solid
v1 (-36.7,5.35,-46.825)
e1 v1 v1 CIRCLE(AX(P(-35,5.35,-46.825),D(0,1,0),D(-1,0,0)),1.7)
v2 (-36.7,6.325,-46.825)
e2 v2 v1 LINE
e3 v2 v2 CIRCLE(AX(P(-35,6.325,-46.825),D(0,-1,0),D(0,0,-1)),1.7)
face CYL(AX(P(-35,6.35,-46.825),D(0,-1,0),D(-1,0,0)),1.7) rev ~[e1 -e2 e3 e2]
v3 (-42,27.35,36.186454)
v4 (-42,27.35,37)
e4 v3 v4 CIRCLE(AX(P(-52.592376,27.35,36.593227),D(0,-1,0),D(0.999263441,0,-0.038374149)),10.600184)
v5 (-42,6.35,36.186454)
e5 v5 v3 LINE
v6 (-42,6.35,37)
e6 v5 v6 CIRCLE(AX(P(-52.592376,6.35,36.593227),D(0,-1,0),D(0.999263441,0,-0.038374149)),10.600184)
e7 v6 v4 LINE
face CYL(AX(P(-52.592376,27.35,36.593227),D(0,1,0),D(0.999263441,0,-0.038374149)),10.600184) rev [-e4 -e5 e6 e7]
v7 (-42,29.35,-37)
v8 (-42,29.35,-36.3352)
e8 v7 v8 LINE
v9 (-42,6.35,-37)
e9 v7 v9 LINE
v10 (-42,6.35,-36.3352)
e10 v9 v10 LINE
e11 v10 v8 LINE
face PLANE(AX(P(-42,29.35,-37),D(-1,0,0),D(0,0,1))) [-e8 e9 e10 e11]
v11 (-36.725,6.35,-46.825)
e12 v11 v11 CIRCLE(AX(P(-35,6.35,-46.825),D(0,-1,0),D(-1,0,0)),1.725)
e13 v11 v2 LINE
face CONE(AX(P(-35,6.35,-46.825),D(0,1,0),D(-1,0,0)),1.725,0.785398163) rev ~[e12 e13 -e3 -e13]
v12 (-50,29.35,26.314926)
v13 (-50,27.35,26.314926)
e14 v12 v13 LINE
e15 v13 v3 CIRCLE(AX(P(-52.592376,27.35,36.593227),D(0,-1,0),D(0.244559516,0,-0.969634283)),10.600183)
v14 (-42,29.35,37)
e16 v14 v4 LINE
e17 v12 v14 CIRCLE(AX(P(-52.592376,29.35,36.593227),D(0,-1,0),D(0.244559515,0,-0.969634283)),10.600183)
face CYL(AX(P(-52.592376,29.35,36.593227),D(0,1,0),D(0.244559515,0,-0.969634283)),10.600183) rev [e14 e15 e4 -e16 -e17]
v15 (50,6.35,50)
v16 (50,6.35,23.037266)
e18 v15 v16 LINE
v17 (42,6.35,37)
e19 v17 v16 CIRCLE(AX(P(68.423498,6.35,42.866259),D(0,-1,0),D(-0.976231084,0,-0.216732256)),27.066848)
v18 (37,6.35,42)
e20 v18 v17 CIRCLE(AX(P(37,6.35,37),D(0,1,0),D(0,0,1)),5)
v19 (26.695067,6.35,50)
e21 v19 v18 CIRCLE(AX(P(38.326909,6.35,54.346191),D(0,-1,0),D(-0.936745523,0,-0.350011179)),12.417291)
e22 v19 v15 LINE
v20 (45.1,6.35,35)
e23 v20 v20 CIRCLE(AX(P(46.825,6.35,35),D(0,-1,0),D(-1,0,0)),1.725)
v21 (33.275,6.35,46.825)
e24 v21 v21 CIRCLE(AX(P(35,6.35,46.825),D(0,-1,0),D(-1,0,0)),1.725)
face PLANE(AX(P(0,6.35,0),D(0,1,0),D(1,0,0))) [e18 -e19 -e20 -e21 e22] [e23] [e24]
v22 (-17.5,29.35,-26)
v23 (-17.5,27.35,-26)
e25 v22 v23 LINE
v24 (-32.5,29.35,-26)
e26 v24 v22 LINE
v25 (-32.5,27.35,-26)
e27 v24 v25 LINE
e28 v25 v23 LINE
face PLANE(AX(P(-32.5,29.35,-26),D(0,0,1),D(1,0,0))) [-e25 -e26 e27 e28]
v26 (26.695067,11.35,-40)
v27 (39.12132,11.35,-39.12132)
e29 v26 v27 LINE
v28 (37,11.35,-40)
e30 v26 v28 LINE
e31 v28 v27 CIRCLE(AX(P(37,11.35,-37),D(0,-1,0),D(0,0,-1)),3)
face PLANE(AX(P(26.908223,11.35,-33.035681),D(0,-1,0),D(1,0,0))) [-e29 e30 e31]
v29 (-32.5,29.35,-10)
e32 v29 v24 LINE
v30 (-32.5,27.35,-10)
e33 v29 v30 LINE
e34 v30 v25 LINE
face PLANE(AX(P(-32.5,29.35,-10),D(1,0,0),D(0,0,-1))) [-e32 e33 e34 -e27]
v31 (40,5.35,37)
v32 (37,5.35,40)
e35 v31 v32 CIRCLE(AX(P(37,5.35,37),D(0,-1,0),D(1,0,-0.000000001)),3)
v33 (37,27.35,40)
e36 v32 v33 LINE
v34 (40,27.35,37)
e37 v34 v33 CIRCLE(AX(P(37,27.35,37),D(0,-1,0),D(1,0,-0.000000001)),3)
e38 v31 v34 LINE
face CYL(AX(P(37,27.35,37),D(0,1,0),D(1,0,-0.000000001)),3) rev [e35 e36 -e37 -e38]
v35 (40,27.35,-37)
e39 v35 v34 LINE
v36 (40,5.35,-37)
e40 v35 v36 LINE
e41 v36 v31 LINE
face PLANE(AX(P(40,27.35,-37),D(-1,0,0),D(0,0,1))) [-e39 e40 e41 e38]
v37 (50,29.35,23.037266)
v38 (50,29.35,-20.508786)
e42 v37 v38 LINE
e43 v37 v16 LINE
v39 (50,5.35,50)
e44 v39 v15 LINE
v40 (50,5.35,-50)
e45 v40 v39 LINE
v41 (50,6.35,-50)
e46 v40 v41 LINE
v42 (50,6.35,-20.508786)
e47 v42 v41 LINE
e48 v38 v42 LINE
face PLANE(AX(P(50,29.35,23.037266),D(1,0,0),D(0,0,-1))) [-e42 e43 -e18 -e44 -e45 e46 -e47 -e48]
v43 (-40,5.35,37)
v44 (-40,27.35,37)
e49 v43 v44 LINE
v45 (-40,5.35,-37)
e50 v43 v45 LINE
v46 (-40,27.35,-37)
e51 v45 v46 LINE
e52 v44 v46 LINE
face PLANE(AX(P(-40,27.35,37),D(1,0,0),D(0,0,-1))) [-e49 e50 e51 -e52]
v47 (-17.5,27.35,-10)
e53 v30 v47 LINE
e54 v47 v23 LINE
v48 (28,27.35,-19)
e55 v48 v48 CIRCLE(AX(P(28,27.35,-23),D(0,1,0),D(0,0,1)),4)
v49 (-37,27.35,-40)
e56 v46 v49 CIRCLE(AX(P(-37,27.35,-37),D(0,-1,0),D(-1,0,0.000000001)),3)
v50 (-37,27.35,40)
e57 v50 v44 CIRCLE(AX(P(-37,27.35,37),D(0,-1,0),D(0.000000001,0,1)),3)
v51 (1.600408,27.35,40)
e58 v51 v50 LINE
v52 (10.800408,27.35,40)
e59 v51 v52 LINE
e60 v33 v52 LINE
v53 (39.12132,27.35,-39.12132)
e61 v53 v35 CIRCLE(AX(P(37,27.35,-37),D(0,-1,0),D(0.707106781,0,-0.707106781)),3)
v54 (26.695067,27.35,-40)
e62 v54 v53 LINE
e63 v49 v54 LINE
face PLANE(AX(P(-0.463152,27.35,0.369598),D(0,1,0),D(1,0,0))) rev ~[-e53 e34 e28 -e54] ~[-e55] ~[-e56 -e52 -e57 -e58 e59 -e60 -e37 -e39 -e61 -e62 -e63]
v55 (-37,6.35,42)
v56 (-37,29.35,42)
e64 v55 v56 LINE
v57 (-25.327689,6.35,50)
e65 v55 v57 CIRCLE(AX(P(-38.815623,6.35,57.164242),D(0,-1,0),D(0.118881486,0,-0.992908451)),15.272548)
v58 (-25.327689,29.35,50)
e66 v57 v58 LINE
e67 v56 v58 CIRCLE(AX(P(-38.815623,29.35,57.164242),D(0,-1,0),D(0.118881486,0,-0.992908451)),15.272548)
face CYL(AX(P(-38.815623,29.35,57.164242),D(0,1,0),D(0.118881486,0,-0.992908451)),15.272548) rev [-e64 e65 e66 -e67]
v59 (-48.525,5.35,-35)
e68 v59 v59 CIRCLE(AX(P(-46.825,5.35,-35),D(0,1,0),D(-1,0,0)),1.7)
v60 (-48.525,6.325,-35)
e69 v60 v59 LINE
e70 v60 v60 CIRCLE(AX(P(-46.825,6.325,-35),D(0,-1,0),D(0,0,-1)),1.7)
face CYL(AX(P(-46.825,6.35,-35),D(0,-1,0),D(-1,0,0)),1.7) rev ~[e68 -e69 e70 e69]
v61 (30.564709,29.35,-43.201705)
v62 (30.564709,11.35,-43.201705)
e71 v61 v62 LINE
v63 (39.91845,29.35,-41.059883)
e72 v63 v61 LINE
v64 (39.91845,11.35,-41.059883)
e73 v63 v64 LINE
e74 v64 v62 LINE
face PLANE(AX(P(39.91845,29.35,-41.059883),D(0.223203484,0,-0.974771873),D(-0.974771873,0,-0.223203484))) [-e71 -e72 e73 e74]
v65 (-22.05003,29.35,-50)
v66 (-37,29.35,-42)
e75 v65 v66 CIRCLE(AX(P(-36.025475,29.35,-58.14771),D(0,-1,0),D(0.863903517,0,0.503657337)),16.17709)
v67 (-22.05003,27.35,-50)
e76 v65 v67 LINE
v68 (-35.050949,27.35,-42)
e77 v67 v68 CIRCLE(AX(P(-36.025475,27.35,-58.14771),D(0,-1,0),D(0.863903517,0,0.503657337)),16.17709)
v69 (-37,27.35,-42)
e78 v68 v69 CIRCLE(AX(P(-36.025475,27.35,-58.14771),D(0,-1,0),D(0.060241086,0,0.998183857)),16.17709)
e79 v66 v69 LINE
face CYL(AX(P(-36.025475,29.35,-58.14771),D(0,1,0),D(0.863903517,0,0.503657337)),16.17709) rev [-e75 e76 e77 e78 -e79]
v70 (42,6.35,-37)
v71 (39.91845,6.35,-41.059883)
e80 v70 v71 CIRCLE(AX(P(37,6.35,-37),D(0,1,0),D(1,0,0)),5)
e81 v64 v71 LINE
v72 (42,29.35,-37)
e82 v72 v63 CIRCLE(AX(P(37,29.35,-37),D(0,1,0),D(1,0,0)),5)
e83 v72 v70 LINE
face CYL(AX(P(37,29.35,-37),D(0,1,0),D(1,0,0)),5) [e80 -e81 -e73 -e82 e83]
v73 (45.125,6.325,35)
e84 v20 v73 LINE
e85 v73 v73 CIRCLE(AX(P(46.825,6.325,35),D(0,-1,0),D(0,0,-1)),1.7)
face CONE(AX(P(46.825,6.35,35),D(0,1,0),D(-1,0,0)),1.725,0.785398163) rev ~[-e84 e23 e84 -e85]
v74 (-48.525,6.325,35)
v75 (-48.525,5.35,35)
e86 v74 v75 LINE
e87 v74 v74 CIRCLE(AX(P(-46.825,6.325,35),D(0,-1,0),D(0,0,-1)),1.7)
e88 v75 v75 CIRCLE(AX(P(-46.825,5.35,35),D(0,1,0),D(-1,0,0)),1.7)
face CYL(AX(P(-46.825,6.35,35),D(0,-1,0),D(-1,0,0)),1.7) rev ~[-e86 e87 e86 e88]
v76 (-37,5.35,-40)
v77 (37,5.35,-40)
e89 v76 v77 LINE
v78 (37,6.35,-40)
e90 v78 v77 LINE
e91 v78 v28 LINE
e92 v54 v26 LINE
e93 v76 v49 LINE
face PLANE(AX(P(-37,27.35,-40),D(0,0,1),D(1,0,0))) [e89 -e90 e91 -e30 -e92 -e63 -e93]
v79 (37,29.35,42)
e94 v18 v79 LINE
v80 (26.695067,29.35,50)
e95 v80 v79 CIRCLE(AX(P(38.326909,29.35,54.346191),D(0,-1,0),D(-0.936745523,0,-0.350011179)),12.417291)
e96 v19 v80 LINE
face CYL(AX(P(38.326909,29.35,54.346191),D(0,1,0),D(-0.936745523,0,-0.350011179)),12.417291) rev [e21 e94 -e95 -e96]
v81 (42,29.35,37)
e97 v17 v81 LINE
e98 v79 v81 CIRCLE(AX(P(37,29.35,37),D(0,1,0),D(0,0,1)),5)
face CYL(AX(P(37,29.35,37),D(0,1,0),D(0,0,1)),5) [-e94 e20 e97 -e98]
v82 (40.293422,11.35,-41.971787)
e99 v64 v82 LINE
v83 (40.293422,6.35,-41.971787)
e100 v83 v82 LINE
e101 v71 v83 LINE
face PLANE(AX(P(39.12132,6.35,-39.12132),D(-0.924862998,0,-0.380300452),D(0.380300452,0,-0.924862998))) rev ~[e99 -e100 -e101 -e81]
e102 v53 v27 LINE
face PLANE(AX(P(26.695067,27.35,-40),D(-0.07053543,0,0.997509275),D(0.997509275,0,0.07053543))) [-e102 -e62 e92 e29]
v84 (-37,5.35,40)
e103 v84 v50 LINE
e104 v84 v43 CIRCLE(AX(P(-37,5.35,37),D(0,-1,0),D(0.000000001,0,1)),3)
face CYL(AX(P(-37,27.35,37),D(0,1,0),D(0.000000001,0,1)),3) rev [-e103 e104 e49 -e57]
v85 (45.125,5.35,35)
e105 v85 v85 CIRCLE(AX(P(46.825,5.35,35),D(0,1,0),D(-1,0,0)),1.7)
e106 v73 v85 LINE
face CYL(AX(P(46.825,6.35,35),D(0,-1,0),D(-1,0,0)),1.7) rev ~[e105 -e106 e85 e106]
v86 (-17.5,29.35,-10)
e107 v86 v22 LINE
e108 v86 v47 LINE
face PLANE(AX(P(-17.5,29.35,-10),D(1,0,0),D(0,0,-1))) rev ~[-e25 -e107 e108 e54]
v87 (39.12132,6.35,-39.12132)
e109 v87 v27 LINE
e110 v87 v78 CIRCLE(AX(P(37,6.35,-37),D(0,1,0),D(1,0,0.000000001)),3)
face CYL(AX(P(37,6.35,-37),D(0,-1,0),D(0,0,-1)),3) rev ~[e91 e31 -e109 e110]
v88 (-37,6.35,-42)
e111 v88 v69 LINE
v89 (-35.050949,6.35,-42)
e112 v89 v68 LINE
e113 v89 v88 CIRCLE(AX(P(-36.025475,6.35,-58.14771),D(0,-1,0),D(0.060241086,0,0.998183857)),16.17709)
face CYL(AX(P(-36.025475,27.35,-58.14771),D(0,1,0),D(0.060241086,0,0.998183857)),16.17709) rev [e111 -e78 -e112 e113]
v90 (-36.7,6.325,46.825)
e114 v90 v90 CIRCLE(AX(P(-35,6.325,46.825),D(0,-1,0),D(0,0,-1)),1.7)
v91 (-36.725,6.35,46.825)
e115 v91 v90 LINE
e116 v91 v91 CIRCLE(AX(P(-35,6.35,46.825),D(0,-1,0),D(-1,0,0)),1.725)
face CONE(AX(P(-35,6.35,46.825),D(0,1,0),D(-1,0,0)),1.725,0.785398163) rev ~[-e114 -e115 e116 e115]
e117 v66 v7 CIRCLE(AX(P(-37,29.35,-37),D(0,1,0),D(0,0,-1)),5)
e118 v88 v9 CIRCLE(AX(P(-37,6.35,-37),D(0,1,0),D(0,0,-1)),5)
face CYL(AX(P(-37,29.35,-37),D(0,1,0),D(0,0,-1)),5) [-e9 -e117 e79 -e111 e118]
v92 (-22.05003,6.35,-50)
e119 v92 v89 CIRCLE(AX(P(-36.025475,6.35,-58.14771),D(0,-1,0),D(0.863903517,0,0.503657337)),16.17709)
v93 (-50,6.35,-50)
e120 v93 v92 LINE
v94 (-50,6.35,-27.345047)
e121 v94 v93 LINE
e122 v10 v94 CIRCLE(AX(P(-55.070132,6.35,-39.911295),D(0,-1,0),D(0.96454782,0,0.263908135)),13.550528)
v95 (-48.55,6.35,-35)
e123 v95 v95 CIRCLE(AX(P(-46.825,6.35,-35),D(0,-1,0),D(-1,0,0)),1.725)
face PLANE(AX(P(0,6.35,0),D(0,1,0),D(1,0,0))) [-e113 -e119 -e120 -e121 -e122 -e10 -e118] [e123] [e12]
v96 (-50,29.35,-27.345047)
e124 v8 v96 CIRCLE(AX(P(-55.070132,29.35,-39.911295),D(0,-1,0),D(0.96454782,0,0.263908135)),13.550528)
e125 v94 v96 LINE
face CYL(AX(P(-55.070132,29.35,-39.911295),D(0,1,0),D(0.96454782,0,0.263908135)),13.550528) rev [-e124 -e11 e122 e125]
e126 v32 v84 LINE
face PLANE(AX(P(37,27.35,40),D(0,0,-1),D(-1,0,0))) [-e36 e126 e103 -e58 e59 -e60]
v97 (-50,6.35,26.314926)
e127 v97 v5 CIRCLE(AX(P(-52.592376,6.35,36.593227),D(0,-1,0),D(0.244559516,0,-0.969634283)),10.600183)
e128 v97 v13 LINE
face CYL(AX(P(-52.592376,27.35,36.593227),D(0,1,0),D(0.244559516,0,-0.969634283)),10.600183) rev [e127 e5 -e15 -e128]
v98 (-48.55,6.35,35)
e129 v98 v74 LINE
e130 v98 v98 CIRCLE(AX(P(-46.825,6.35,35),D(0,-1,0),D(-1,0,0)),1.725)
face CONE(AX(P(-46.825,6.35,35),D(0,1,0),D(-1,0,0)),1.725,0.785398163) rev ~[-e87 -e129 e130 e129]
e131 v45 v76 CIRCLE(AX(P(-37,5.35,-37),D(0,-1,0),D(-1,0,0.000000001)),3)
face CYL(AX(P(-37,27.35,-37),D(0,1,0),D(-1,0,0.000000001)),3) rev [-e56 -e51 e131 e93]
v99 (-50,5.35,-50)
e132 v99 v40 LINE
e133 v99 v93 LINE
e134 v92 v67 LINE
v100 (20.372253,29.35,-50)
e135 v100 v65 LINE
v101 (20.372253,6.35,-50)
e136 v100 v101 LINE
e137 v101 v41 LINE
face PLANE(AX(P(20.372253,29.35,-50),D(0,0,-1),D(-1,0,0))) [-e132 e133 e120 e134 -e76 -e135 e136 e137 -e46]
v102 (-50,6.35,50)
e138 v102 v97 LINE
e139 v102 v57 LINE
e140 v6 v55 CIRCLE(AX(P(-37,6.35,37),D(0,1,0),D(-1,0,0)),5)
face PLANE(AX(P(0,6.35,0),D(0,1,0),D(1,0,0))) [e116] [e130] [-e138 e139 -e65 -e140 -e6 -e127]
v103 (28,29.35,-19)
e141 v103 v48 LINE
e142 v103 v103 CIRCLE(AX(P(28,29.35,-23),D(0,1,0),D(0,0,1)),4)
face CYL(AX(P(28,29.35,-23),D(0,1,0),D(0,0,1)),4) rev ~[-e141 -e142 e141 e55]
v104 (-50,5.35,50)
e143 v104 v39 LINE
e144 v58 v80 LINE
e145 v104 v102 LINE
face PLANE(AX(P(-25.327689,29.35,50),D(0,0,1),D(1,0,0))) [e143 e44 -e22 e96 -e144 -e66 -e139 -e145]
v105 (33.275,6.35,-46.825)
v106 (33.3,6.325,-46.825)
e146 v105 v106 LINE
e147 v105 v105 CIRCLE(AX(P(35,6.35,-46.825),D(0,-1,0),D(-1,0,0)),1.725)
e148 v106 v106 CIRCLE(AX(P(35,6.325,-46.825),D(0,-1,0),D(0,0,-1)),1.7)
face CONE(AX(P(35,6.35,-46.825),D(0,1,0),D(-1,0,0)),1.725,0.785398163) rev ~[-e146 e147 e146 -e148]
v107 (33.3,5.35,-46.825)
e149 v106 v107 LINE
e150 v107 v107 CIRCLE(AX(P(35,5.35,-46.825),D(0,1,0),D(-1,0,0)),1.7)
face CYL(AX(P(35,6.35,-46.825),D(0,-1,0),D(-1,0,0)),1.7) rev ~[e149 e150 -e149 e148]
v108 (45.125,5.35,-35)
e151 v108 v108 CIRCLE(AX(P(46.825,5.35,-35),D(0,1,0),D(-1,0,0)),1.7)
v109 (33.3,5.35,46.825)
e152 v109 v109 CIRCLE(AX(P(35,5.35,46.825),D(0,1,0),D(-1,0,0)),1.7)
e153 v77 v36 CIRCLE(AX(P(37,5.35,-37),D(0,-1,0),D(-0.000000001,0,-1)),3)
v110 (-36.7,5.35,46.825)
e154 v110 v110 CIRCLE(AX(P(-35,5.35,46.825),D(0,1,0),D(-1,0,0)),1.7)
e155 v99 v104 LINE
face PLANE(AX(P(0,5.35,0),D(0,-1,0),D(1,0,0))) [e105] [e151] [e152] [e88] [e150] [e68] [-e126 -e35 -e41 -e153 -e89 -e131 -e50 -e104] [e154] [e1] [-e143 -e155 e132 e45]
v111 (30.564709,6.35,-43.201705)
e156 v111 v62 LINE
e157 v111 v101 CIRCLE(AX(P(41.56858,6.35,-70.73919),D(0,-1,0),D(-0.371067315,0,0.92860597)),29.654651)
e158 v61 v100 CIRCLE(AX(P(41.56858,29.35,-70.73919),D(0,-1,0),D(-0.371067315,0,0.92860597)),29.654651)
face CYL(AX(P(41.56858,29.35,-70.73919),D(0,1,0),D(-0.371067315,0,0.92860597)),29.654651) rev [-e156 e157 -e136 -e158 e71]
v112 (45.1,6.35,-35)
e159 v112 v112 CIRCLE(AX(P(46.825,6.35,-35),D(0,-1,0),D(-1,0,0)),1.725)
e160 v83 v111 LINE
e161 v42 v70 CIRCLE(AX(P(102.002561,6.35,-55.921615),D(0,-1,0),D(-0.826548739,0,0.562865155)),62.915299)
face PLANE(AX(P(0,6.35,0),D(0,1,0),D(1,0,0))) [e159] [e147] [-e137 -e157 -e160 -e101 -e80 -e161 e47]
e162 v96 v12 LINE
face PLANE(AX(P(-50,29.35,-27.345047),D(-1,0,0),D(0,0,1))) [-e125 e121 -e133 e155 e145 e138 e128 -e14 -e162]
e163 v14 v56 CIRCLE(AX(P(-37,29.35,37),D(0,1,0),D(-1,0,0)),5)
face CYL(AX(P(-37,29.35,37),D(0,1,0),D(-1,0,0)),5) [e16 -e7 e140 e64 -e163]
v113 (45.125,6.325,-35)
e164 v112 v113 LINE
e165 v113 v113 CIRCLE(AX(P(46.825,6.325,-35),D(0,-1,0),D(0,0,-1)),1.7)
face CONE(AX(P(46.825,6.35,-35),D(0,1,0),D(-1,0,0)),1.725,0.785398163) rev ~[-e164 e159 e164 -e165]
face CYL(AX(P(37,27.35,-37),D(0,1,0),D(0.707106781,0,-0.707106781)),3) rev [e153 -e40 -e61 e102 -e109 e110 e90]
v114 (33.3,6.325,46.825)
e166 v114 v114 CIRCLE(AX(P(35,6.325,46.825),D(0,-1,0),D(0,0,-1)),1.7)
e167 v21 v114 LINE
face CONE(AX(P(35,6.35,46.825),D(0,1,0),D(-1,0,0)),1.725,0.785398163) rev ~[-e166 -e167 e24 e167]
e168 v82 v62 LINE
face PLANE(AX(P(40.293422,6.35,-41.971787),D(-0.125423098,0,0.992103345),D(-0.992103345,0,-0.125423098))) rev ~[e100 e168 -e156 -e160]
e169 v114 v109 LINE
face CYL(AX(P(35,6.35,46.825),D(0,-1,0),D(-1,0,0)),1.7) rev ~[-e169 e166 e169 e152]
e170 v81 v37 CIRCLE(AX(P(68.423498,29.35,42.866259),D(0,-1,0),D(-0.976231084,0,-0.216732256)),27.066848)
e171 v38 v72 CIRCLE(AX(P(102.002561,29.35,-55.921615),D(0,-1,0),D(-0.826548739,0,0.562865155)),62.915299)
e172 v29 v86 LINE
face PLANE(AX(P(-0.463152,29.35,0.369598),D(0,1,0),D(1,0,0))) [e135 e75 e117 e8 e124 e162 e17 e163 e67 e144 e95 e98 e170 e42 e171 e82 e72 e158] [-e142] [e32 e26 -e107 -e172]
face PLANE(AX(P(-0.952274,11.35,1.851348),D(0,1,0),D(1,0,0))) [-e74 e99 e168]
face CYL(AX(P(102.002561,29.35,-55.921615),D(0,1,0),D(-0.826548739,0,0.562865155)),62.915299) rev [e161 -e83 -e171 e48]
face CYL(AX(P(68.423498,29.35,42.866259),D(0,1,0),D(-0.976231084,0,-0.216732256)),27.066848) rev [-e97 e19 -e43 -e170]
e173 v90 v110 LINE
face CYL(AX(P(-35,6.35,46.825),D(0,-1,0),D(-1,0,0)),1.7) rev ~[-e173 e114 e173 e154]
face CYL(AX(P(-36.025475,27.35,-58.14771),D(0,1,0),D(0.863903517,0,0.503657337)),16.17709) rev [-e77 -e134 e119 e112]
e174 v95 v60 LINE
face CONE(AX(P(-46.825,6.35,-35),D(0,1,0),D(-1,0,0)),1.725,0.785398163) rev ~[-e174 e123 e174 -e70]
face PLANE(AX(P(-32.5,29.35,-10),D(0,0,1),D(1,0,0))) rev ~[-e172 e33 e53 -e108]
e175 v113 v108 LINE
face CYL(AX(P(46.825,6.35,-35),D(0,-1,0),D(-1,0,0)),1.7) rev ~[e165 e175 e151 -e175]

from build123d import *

# Parameters (mm, degrees)
SKETCH1_W                      = 100
SKETCH1_H                      = 100
BOSS_EXTRUDE3_DEPTH            = 6.35
M3_CLEARANCE_HOLE1_D           = 3.4
M3_CLEARANCE_HOLE1_CSINK_D     = 3.45
M3_CLEARANCE_HOLE1_CSINK_ANGLE = 90
CUT_EXTRUDE1_DEPTH             = 10
SKETCH20_R                     = 1.6
BOSS_EXTRUDE4_DEPTH            = 5
BOSS_EXTRUDE5_START            = 5
SKETCH21_W                     = 9.2
SKETCH21_H                     = 5.055773539
BOSS_EXTRUDE5_DEPTH            = 5
BOSS_EXTRUDE6_START            = 21
SKETCH21_3_W                   = 9.2
SKETCH21_3_H                   = 5.055773539
BOSS_EXTRUDE6_DEPTH            = 16
BOSS_EXTRUDE7_START            = 2
SKETCH22_R                     = 4
SKETCH22_W                     = 15
SKETCH22_H                     = 16
BOSS_EXTRUDE7_DEPTH            = 2
SKETCH24_W                     = 100
SKETCH24_H                     = 100
SKETCH24_R                     = 1.7
CUT_EXTRUDE2_DEPTH             = 5.35
CUT_EXTRUDE3_DEPTH             = 5


with BuildPart() as part:
    # Sketch1 → Boss-Extrude3 (new body)
    with BuildSketch(Plane(origin=(0, 0, 0), x_dir=(1, 0, 0), z_dir=(0, 1, 0))):
        Rectangle(SKETCH1_W, SKETCH1_H)
    extrude(amount=BOSS_EXTRUDE3_DEPTH)

    # M3 Clearance Hole1 (through all)
    with Locations(Plane(origin=(0, 6.35, 0), x_dir=(1, 0, 0), z_dir=(0, 1, 0))):
        with Locations((-46.825, 35), (-35, 46.825), (35, 46.825), (46.825, 35), (46.825, -35), (35, -46.825), (-35, -46.825), (-46.825, -35)):
            CounterSinkHole(M3_CLEARANCE_HOLE1_D / 2, M3_CLEARANCE_HOLE1_CSINK_D / 2, counter_sink_angle=M3_CLEARANCE_HOLE1_CSINK_ANGLE)

    # Sketch19 → Cut-Extrude1 (cut)
    with BuildSketch(Plane(origin=(0, 6.35, 0), x_dir=(1, 0, 0), z_dir=(0, 1, 0))):
        with BuildLine():
            Line((-37, -40), (37, -40))
            ThreePointArc((37, -40), (39.121320344, -39.121320344), (40, -37))
            Line((40, -37), (40, 37))
            ThreePointArc((40, 37), (39.121320344, 39.121320344), (37, 40))
            Line((37, 40), (-37, 40))
            ThreePointArc((-37, 40), (-39.121320344, 39.121320344), (-40, 37))
            Line((-40, 37), (-40, -37))
            ThreePointArc((-40, -37), (-39.121320344, -39.121320344), (-37, -40))
        make_face()
    extrude(amount=-CUT_EXTRUDE1_DEPTH, mode=Mode.SUBTRACT)

    # Sketch20 → Boss-Extrude4 (add)
    # profile 1 of 2: a face of its own
    with BuildSketch(Plane(origin=(0, 6.35, -6.35), x_dir=(1, 0, 0), z_dir=(0, -1, 0))):
        with BuildLine():
            Line((1.60040755, 36.488159347), (1.60040755, 46.35))
            Line((1.60040755, 46.35), (1.60040755, 51.405773539))
            Line((1.60040755, 51.405773539), (10.80040755, 51.405773539))
            Line((10.80040755, 51.405773539), (10.80040755, 46.35))
            Line((10.80040755, 46.35), (10.80040755, 36.488159347))
            ThreePointArc((10.80040755, 36.488159347), (6.20040755, 31.888159347), (1.60040755, 36.488159347))
        make_face()
        with Locations(Location((6.20040755, 36.488159347, 0), (0, 0, 90))):
            Circle(SKETCH20_R, mode=Mode.SUBTRACT)
    # profile 2 of 2: a face of its own
    with BuildSketch(Plane(origin=(0, 6.35, -6.35), x_dir=(1, 0, 0), z_dir=(0, -1, 0))):
        with BuildLine():
            Line((23.839549451, -18.252155571), (39.121320344, -32.771320344))
            Line((39.121320344, -32.771320344), (40.293422294, -35.621786908))
            Line((40.293422294, -35.621786908), (30.564708642, -36.851704553))
            Line((30.564708642, -36.851704553), (26.695067206, -33.65))
            Line((26.695067206, -33.65), (17.503754806, -24.92281552))
            ThreePointArc((17.503754806, -24.92281552), (17.335801876, -18.419094063), (23.839549451, -18.252155571))
        make_face()
        with Locations(Location((20.671131891, -21.586991424, 0), (0, 0, 90))):
            Circle(SKETCH20_R, mode=Mode.SUBTRACT)
    extrude(amount=-BOSS_EXTRUDE4_DEPTH)

    # Sketch21 → Boss-Extrude5 (add)
    with BuildSketch(Plane(origin=(0, 6.35, 0), x_dir=(1, 0, 0), z_dir=(0, 1, 0)).offset(BOSS_EXTRUDE5_START)):
        with BuildLine():
            Line((40, 37), (40, -37))
            ThreePointArc((40, -37), (39.121320344, -39.121320344), (37, -40))
            Line((37, -40), (10.80040755, -40))
            Line((10.80040755, -40), (10.80040755, -45.055773539))
            Line((10.80040755, -45.055773539), (1.60040755, -45.055773539))
            Line((1.60040755, -45.055773539), (1.60040755, -40))
            Line((1.60040755, -40), (-37, -40))
            ThreePointArc((-37, -40), (-39.121320344, -39.121320344), (-40, -37))
            Line((-40, -37), (-40, 37))
            ThreePointArc((-40, 37), (-39.121320344, 39.121320344), (-37, 40))
            Line((-37, 40), (26.695067206, 40))
            Line((26.695067206, 40), (30.564708642, 43.201704553))
            ThreePointArc((30.564708642, 43.201704553), (25.113568567, 46.068744386), (20.37225284, 50))
            Line((20.37225284, 50), (-22.050029616, 50))
            ThreePointArc((-22.050029616, 50), (-27.54753826, 44.370089204), (-35.050949086, 42))
            ThreePointArc((-35.050949086, 42), (-36.025474543, 41.970620085), (-37, 42))
            ThreePointArc((-37, 42), (-40.535533906, 40.535533906), (-42, 37))
            Line((-42, 37), (-42, 36.335199984))
            ThreePointArc((-42, 36.335199984), (-44.947236911, 30.903309262), (-50, 27.345047411))
            Line((-50, 27.345047411), (-50, -26.314925762))
            ThreePointArc((-50, -26.314925762), (-44.357013872, -29.919194986), (-42, -36.186453931))
            ThreePointArc((-42, -36.186453931), (-41.99219234, -36.593226965), (-42, -37))
            ThreePointArc((-42, -37), (-40.535533906, -40.535533906), (-37, -42))
            ThreePointArc((-37, -42), (-30.181405564, -44.566583152), (-25.327689408, -50))
            Line((-25.327689408, -50), (26.695067206, -50))
            ThreePointArc((26.695067206, -50), (30.712297628, -44.537683696), (37, -42))
            ThreePointArc((37, -42), (40.535533906, -40.535533906), (42, -37))
            ThreePointArc((42, -37), (44.938337838, -29.41034973), (50, -23.037265969))
            Line((50, -23.037265969), (50, 20.508785558))
            ThreePointArc((50, 20.508785558), (45.396228517, 28.461499137), (42, 37))
            ThreePointArc((42, 37), (41.449283771, 39.281200107), (39.918450428, 41.059882646))
            Line((39.918450428, 41.059882646), (39.121320344, 39.121320344))
            ThreePointArc((39.121320344, 39.121320344), (39.771638598, 38.148050297), (40, 37))
        make_face()
        Polygon((26.695067206, 40), (39.121320344, 39.121320344), (39.918450428, 41.059882646), (30.564708642, 43.201704553), align=None)
        with Locations((6.20040755, -42.52788677)):
            Rectangle(SKETCH21_W, SKETCH21_H)
    extrude(amount=-BOSS_EXTRUDE5_DEPTH)

    # Sketch21<3> → Boss-Extrude6 (add)
    with BuildSketch(Plane(origin=(0, 6.35, 0), x_dir=(1, 0, 0), z_dir=(0, 1, 0)).offset(BOSS_EXTRUDE6_START)):
        with BuildLine():
            Line((40, 37), (40, -37))
            ThreePointArc((40, -37), (39.121320344, -39.121320344), (37, -40))
            Line((37, -40), (10.80040755, -40))
            Line((10.80040755, -40), (10.80040755, -45.055773539))
            Line((10.80040755, -45.055773539), (1.60040755, -45.055773539))
            Line((1.60040755, -45.055773539), (1.60040755, -40))
            Line((1.60040755, -40), (-37, -40))
            ThreePointArc((-37, -40), (-39.121320344, -39.121320344), (-40, -37))
            Line((-40, -37), (-40, 37))
            ThreePointArc((-40, 37), (-39.121320344, 39.121320344), (-37, 40))
            Line((-37, 40), (26.695067206, 40))
            Line((26.695067206, 40), (30.564708642, 43.201704553))
            ThreePointArc((30.564708642, 43.201704553), (25.113568567, 46.068744386), (20.37225284, 50))
            Line((20.37225284, 50), (-22.050029616, 50))
            ThreePointArc((-22.050029616, 50), (-27.54753826, 44.370089204), (-35.050949086, 42))
            ThreePointArc((-35.050949086, 42), (-36.025474543, 41.970620085), (-37, 42))
            ThreePointArc((-37, 42), (-40.535533906, 40.535533906), (-42, 37))
            Line((-42, 37), (-42, 36.335199984))
            ThreePointArc((-42, 36.335199984), (-44.947236911, 30.903309262), (-50, 27.345047411))
            Line((-50, 27.345047411), (-50, -26.314925762))
            ThreePointArc((-50, -26.314925762), (-44.357013872, -29.919194986), (-42, -36.186453931))
            ThreePointArc((-42, -36.186453931), (-41.99219234, -36.593226965), (-42, -37))
            ThreePointArc((-42, -37), (-40.535533906, -40.535533906), (-37, -42))
            ThreePointArc((-37, -42), (-30.181405564, -44.566583152), (-25.327689408, -50))
            Line((-25.327689408, -50), (26.695067206, -50))
            ThreePointArc((26.695067206, -50), (30.712297628, -44.537683696), (37, -42))
            ThreePointArc((37, -42), (40.535533906, -40.535533906), (42, -37))
            ThreePointArc((42, -37), (44.938337838, -29.41034973), (50, -23.037265969))
            Line((50, -23.037265969), (50, 20.508785558))
            ThreePointArc((50, 20.508785558), (45.396228517, 28.461499137), (42, 37))
            ThreePointArc((42, 37), (41.449283771, 39.281200107), (39.918450428, 41.059882646))
            Line((39.918450428, 41.059882646), (39.121320344, 39.121320344))
            ThreePointArc((39.121320344, 39.121320344), (39.771638598, 38.148050297), (40, 37))
        make_face()
        Polygon((26.695067206, 40), (39.121320344, 39.121320344), (39.918450428, 41.059882646), (30.564708642, 43.201704553), align=None)
        with Locations((6.20040755, -42.52788677)):
            Rectangle(SKETCH21_3_W, SKETCH21_3_H)
    extrude(amount=-BOSS_EXTRUDE6_DEPTH)

    # Sketch22 → Boss-Extrude7 (add)
    with BuildSketch(Plane(origin=(0, 27.35, 0), x_dir=(1, 0, 0), z_dir=(0, 1, 0)).offset(BOSS_EXTRUDE7_START)):
        with BuildLine():
            Line((-42, 37), (-42, 36.335199984))
            ThreePointArc((-42, 36.335199984), (-44.947236911, 30.903309262), (-50, 27.345047411))
            Line((-50, 27.345047411), (-50, -26.314925762))
            ThreePointArc((-50, -26.314925762), (-44.106969392, -30.24013582), (-42, -37))
            ThreePointArc((-42, -37), (-40.535533906, -40.535533906), (-37, -42))
            ThreePointArc((-37, -42), (-30.181405564, -44.566583152), (-25.327689408, -50))
            Line((-25.327689408, -50), (26.695067206, -50))
            ThreePointArc((26.695067206, -50), (30.712297628, -44.537683696), (37, -42))
            ThreePointArc((37, -42), (40.535533906, -40.535533906), (42, -37))
            ThreePointArc((42, -37), (44.938337838, -29.41034973), (50, -23.037265969))
            Line((50, -23.037265969), (50, 20.508785558))
            ThreePointArc((50, 20.508785558), (45.396228517, 28.461499137), (42, 37))
            ThreePointArc((42, 37), (41.449283771, 39.281200107), (39.918450428, 41.059882646))
            Line((39.918450428, 41.059882646), (30.564708642, 43.201704553))
            ThreePointArc((30.564708642, 43.201704553), (25.113568567, 46.068744386), (20.37225284, 50))
            Line((20.37225284, 50), (-22.050029616, 50))
            ThreePointArc((-22.050029616, 50), (-28.392914241, 43.884391256), (-37, 42))
            ThreePointArc((-37, 42), (-40.535533906, 40.535533906), (-42, 37))
        make_face()
        with Locations(Location((28, 23, 0), (0, 0, 270))):
            Circle(SKETCH22_R, mode=Mode.SUBTRACT)
        with Locations((-25, 18)):
            Rectangle(SKETCH22_W, SKETCH22_H, mode=Mode.SUBTRACT)
    extrude(amount=-BOSS_EXTRUDE7_DEPTH)

    # Sketch24 → Cut-Extrude2 (cut)
    with BuildSketch(Plane.XZ):
        Rectangle(SKETCH24_W, SKETCH24_H)
        with Locations(Location((-46.825, -35, 0), (0, 0, 90))):
            Circle(SKETCH24_R, mode=Mode.SUBTRACT)
        with Locations(Location((-35, -46.825, 0), (0, 0, 90))):
            Circle(SKETCH24_R, mode=Mode.SUBTRACT)
        with Locations(Location((35, -46.825, 0), (0, 0, 90))):
            Circle(SKETCH24_R, mode=Mode.SUBTRACT)
        with Locations(Location((46.825, -35, 0), (0, 0, 90))):
            Circle(SKETCH24_R, mode=Mode.SUBTRACT)
        with Locations(Location((46.825, 35, 0), (0, 0, 90))):
            Circle(SKETCH24_R, mode=Mode.SUBTRACT)
        with Locations(Location((35, 46.825, 0), (0, 0, 90))):
            Circle(SKETCH24_R, mode=Mode.SUBTRACT)
        with Locations(Location((-35, 46.825, 0), (0, 0, 90))):
            Circle(SKETCH24_R, mode=Mode.SUBTRACT)
        with Locations(Location((-46.825, 35, 0), (0, 0, 90))):
            Circle(SKETCH24_R, mode=Mode.SUBTRACT)
        with BuildLine():
            Line((-40, 37), (-40, -37))
            ThreePointArc((-40, -37), (-39.121320344, -39.121320344), (-37, -40))
            Line((-37, -40), (37, -40))
            ThreePointArc((37, -40), (39.121320344, -39.121320344), (40, -37))
            Line((40, -37), (40, 37))
            ThreePointArc((40, 37), (39.121320344, 39.121320344), (37, 40))
            Line((37, 40), (-37, 40))
            ThreePointArc((-37, 40), (-39.121320344, 39.121320344), (-40, 37))
        make_face(mode=Mode.SUBTRACT)
    extrude(amount=-CUT_EXTRUDE2_DEPTH, mode=Mode.SUBTRACT)

    # Sketch25 → Cut-Extrude3 (cut)
    with BuildSketch(Plane.XZ.offset(-6.35)):
        with BuildLine():
            Line((10.80040755, 40), (1.60040755, 40))
            Line((1.60040755, 40), (1.60040755, 30.138159347))
            ThreePointArc((1.60040755, 30.138159347), (6.20040755, 25.538159347), (10.80040755, 30.138159347))
            Line((10.80040755, 30.138159347), (10.80040755, 40))
        make_face()
        with BuildLine():
            Line((39.121320344, -39.121320344), (23.839549451, -24.602155571))
            ThreePointArc((23.839549451, -24.602155571), (17.335801876, -24.769094063), (17.503754806, -31.27281552))
            Line((17.503754806, -31.27281552), (26.695067206, -40))
            Line((26.695067206, -40), (37, -40))
            ThreePointArc((37, -40), (38.148050297, -39.771638598), (39.121320344, -39.121320344))
        make_face()
    extrude(amount=-CUT_EXTRUDE3_DEPTH, mode=Mode.SUBTRACT)


solid = part.part
